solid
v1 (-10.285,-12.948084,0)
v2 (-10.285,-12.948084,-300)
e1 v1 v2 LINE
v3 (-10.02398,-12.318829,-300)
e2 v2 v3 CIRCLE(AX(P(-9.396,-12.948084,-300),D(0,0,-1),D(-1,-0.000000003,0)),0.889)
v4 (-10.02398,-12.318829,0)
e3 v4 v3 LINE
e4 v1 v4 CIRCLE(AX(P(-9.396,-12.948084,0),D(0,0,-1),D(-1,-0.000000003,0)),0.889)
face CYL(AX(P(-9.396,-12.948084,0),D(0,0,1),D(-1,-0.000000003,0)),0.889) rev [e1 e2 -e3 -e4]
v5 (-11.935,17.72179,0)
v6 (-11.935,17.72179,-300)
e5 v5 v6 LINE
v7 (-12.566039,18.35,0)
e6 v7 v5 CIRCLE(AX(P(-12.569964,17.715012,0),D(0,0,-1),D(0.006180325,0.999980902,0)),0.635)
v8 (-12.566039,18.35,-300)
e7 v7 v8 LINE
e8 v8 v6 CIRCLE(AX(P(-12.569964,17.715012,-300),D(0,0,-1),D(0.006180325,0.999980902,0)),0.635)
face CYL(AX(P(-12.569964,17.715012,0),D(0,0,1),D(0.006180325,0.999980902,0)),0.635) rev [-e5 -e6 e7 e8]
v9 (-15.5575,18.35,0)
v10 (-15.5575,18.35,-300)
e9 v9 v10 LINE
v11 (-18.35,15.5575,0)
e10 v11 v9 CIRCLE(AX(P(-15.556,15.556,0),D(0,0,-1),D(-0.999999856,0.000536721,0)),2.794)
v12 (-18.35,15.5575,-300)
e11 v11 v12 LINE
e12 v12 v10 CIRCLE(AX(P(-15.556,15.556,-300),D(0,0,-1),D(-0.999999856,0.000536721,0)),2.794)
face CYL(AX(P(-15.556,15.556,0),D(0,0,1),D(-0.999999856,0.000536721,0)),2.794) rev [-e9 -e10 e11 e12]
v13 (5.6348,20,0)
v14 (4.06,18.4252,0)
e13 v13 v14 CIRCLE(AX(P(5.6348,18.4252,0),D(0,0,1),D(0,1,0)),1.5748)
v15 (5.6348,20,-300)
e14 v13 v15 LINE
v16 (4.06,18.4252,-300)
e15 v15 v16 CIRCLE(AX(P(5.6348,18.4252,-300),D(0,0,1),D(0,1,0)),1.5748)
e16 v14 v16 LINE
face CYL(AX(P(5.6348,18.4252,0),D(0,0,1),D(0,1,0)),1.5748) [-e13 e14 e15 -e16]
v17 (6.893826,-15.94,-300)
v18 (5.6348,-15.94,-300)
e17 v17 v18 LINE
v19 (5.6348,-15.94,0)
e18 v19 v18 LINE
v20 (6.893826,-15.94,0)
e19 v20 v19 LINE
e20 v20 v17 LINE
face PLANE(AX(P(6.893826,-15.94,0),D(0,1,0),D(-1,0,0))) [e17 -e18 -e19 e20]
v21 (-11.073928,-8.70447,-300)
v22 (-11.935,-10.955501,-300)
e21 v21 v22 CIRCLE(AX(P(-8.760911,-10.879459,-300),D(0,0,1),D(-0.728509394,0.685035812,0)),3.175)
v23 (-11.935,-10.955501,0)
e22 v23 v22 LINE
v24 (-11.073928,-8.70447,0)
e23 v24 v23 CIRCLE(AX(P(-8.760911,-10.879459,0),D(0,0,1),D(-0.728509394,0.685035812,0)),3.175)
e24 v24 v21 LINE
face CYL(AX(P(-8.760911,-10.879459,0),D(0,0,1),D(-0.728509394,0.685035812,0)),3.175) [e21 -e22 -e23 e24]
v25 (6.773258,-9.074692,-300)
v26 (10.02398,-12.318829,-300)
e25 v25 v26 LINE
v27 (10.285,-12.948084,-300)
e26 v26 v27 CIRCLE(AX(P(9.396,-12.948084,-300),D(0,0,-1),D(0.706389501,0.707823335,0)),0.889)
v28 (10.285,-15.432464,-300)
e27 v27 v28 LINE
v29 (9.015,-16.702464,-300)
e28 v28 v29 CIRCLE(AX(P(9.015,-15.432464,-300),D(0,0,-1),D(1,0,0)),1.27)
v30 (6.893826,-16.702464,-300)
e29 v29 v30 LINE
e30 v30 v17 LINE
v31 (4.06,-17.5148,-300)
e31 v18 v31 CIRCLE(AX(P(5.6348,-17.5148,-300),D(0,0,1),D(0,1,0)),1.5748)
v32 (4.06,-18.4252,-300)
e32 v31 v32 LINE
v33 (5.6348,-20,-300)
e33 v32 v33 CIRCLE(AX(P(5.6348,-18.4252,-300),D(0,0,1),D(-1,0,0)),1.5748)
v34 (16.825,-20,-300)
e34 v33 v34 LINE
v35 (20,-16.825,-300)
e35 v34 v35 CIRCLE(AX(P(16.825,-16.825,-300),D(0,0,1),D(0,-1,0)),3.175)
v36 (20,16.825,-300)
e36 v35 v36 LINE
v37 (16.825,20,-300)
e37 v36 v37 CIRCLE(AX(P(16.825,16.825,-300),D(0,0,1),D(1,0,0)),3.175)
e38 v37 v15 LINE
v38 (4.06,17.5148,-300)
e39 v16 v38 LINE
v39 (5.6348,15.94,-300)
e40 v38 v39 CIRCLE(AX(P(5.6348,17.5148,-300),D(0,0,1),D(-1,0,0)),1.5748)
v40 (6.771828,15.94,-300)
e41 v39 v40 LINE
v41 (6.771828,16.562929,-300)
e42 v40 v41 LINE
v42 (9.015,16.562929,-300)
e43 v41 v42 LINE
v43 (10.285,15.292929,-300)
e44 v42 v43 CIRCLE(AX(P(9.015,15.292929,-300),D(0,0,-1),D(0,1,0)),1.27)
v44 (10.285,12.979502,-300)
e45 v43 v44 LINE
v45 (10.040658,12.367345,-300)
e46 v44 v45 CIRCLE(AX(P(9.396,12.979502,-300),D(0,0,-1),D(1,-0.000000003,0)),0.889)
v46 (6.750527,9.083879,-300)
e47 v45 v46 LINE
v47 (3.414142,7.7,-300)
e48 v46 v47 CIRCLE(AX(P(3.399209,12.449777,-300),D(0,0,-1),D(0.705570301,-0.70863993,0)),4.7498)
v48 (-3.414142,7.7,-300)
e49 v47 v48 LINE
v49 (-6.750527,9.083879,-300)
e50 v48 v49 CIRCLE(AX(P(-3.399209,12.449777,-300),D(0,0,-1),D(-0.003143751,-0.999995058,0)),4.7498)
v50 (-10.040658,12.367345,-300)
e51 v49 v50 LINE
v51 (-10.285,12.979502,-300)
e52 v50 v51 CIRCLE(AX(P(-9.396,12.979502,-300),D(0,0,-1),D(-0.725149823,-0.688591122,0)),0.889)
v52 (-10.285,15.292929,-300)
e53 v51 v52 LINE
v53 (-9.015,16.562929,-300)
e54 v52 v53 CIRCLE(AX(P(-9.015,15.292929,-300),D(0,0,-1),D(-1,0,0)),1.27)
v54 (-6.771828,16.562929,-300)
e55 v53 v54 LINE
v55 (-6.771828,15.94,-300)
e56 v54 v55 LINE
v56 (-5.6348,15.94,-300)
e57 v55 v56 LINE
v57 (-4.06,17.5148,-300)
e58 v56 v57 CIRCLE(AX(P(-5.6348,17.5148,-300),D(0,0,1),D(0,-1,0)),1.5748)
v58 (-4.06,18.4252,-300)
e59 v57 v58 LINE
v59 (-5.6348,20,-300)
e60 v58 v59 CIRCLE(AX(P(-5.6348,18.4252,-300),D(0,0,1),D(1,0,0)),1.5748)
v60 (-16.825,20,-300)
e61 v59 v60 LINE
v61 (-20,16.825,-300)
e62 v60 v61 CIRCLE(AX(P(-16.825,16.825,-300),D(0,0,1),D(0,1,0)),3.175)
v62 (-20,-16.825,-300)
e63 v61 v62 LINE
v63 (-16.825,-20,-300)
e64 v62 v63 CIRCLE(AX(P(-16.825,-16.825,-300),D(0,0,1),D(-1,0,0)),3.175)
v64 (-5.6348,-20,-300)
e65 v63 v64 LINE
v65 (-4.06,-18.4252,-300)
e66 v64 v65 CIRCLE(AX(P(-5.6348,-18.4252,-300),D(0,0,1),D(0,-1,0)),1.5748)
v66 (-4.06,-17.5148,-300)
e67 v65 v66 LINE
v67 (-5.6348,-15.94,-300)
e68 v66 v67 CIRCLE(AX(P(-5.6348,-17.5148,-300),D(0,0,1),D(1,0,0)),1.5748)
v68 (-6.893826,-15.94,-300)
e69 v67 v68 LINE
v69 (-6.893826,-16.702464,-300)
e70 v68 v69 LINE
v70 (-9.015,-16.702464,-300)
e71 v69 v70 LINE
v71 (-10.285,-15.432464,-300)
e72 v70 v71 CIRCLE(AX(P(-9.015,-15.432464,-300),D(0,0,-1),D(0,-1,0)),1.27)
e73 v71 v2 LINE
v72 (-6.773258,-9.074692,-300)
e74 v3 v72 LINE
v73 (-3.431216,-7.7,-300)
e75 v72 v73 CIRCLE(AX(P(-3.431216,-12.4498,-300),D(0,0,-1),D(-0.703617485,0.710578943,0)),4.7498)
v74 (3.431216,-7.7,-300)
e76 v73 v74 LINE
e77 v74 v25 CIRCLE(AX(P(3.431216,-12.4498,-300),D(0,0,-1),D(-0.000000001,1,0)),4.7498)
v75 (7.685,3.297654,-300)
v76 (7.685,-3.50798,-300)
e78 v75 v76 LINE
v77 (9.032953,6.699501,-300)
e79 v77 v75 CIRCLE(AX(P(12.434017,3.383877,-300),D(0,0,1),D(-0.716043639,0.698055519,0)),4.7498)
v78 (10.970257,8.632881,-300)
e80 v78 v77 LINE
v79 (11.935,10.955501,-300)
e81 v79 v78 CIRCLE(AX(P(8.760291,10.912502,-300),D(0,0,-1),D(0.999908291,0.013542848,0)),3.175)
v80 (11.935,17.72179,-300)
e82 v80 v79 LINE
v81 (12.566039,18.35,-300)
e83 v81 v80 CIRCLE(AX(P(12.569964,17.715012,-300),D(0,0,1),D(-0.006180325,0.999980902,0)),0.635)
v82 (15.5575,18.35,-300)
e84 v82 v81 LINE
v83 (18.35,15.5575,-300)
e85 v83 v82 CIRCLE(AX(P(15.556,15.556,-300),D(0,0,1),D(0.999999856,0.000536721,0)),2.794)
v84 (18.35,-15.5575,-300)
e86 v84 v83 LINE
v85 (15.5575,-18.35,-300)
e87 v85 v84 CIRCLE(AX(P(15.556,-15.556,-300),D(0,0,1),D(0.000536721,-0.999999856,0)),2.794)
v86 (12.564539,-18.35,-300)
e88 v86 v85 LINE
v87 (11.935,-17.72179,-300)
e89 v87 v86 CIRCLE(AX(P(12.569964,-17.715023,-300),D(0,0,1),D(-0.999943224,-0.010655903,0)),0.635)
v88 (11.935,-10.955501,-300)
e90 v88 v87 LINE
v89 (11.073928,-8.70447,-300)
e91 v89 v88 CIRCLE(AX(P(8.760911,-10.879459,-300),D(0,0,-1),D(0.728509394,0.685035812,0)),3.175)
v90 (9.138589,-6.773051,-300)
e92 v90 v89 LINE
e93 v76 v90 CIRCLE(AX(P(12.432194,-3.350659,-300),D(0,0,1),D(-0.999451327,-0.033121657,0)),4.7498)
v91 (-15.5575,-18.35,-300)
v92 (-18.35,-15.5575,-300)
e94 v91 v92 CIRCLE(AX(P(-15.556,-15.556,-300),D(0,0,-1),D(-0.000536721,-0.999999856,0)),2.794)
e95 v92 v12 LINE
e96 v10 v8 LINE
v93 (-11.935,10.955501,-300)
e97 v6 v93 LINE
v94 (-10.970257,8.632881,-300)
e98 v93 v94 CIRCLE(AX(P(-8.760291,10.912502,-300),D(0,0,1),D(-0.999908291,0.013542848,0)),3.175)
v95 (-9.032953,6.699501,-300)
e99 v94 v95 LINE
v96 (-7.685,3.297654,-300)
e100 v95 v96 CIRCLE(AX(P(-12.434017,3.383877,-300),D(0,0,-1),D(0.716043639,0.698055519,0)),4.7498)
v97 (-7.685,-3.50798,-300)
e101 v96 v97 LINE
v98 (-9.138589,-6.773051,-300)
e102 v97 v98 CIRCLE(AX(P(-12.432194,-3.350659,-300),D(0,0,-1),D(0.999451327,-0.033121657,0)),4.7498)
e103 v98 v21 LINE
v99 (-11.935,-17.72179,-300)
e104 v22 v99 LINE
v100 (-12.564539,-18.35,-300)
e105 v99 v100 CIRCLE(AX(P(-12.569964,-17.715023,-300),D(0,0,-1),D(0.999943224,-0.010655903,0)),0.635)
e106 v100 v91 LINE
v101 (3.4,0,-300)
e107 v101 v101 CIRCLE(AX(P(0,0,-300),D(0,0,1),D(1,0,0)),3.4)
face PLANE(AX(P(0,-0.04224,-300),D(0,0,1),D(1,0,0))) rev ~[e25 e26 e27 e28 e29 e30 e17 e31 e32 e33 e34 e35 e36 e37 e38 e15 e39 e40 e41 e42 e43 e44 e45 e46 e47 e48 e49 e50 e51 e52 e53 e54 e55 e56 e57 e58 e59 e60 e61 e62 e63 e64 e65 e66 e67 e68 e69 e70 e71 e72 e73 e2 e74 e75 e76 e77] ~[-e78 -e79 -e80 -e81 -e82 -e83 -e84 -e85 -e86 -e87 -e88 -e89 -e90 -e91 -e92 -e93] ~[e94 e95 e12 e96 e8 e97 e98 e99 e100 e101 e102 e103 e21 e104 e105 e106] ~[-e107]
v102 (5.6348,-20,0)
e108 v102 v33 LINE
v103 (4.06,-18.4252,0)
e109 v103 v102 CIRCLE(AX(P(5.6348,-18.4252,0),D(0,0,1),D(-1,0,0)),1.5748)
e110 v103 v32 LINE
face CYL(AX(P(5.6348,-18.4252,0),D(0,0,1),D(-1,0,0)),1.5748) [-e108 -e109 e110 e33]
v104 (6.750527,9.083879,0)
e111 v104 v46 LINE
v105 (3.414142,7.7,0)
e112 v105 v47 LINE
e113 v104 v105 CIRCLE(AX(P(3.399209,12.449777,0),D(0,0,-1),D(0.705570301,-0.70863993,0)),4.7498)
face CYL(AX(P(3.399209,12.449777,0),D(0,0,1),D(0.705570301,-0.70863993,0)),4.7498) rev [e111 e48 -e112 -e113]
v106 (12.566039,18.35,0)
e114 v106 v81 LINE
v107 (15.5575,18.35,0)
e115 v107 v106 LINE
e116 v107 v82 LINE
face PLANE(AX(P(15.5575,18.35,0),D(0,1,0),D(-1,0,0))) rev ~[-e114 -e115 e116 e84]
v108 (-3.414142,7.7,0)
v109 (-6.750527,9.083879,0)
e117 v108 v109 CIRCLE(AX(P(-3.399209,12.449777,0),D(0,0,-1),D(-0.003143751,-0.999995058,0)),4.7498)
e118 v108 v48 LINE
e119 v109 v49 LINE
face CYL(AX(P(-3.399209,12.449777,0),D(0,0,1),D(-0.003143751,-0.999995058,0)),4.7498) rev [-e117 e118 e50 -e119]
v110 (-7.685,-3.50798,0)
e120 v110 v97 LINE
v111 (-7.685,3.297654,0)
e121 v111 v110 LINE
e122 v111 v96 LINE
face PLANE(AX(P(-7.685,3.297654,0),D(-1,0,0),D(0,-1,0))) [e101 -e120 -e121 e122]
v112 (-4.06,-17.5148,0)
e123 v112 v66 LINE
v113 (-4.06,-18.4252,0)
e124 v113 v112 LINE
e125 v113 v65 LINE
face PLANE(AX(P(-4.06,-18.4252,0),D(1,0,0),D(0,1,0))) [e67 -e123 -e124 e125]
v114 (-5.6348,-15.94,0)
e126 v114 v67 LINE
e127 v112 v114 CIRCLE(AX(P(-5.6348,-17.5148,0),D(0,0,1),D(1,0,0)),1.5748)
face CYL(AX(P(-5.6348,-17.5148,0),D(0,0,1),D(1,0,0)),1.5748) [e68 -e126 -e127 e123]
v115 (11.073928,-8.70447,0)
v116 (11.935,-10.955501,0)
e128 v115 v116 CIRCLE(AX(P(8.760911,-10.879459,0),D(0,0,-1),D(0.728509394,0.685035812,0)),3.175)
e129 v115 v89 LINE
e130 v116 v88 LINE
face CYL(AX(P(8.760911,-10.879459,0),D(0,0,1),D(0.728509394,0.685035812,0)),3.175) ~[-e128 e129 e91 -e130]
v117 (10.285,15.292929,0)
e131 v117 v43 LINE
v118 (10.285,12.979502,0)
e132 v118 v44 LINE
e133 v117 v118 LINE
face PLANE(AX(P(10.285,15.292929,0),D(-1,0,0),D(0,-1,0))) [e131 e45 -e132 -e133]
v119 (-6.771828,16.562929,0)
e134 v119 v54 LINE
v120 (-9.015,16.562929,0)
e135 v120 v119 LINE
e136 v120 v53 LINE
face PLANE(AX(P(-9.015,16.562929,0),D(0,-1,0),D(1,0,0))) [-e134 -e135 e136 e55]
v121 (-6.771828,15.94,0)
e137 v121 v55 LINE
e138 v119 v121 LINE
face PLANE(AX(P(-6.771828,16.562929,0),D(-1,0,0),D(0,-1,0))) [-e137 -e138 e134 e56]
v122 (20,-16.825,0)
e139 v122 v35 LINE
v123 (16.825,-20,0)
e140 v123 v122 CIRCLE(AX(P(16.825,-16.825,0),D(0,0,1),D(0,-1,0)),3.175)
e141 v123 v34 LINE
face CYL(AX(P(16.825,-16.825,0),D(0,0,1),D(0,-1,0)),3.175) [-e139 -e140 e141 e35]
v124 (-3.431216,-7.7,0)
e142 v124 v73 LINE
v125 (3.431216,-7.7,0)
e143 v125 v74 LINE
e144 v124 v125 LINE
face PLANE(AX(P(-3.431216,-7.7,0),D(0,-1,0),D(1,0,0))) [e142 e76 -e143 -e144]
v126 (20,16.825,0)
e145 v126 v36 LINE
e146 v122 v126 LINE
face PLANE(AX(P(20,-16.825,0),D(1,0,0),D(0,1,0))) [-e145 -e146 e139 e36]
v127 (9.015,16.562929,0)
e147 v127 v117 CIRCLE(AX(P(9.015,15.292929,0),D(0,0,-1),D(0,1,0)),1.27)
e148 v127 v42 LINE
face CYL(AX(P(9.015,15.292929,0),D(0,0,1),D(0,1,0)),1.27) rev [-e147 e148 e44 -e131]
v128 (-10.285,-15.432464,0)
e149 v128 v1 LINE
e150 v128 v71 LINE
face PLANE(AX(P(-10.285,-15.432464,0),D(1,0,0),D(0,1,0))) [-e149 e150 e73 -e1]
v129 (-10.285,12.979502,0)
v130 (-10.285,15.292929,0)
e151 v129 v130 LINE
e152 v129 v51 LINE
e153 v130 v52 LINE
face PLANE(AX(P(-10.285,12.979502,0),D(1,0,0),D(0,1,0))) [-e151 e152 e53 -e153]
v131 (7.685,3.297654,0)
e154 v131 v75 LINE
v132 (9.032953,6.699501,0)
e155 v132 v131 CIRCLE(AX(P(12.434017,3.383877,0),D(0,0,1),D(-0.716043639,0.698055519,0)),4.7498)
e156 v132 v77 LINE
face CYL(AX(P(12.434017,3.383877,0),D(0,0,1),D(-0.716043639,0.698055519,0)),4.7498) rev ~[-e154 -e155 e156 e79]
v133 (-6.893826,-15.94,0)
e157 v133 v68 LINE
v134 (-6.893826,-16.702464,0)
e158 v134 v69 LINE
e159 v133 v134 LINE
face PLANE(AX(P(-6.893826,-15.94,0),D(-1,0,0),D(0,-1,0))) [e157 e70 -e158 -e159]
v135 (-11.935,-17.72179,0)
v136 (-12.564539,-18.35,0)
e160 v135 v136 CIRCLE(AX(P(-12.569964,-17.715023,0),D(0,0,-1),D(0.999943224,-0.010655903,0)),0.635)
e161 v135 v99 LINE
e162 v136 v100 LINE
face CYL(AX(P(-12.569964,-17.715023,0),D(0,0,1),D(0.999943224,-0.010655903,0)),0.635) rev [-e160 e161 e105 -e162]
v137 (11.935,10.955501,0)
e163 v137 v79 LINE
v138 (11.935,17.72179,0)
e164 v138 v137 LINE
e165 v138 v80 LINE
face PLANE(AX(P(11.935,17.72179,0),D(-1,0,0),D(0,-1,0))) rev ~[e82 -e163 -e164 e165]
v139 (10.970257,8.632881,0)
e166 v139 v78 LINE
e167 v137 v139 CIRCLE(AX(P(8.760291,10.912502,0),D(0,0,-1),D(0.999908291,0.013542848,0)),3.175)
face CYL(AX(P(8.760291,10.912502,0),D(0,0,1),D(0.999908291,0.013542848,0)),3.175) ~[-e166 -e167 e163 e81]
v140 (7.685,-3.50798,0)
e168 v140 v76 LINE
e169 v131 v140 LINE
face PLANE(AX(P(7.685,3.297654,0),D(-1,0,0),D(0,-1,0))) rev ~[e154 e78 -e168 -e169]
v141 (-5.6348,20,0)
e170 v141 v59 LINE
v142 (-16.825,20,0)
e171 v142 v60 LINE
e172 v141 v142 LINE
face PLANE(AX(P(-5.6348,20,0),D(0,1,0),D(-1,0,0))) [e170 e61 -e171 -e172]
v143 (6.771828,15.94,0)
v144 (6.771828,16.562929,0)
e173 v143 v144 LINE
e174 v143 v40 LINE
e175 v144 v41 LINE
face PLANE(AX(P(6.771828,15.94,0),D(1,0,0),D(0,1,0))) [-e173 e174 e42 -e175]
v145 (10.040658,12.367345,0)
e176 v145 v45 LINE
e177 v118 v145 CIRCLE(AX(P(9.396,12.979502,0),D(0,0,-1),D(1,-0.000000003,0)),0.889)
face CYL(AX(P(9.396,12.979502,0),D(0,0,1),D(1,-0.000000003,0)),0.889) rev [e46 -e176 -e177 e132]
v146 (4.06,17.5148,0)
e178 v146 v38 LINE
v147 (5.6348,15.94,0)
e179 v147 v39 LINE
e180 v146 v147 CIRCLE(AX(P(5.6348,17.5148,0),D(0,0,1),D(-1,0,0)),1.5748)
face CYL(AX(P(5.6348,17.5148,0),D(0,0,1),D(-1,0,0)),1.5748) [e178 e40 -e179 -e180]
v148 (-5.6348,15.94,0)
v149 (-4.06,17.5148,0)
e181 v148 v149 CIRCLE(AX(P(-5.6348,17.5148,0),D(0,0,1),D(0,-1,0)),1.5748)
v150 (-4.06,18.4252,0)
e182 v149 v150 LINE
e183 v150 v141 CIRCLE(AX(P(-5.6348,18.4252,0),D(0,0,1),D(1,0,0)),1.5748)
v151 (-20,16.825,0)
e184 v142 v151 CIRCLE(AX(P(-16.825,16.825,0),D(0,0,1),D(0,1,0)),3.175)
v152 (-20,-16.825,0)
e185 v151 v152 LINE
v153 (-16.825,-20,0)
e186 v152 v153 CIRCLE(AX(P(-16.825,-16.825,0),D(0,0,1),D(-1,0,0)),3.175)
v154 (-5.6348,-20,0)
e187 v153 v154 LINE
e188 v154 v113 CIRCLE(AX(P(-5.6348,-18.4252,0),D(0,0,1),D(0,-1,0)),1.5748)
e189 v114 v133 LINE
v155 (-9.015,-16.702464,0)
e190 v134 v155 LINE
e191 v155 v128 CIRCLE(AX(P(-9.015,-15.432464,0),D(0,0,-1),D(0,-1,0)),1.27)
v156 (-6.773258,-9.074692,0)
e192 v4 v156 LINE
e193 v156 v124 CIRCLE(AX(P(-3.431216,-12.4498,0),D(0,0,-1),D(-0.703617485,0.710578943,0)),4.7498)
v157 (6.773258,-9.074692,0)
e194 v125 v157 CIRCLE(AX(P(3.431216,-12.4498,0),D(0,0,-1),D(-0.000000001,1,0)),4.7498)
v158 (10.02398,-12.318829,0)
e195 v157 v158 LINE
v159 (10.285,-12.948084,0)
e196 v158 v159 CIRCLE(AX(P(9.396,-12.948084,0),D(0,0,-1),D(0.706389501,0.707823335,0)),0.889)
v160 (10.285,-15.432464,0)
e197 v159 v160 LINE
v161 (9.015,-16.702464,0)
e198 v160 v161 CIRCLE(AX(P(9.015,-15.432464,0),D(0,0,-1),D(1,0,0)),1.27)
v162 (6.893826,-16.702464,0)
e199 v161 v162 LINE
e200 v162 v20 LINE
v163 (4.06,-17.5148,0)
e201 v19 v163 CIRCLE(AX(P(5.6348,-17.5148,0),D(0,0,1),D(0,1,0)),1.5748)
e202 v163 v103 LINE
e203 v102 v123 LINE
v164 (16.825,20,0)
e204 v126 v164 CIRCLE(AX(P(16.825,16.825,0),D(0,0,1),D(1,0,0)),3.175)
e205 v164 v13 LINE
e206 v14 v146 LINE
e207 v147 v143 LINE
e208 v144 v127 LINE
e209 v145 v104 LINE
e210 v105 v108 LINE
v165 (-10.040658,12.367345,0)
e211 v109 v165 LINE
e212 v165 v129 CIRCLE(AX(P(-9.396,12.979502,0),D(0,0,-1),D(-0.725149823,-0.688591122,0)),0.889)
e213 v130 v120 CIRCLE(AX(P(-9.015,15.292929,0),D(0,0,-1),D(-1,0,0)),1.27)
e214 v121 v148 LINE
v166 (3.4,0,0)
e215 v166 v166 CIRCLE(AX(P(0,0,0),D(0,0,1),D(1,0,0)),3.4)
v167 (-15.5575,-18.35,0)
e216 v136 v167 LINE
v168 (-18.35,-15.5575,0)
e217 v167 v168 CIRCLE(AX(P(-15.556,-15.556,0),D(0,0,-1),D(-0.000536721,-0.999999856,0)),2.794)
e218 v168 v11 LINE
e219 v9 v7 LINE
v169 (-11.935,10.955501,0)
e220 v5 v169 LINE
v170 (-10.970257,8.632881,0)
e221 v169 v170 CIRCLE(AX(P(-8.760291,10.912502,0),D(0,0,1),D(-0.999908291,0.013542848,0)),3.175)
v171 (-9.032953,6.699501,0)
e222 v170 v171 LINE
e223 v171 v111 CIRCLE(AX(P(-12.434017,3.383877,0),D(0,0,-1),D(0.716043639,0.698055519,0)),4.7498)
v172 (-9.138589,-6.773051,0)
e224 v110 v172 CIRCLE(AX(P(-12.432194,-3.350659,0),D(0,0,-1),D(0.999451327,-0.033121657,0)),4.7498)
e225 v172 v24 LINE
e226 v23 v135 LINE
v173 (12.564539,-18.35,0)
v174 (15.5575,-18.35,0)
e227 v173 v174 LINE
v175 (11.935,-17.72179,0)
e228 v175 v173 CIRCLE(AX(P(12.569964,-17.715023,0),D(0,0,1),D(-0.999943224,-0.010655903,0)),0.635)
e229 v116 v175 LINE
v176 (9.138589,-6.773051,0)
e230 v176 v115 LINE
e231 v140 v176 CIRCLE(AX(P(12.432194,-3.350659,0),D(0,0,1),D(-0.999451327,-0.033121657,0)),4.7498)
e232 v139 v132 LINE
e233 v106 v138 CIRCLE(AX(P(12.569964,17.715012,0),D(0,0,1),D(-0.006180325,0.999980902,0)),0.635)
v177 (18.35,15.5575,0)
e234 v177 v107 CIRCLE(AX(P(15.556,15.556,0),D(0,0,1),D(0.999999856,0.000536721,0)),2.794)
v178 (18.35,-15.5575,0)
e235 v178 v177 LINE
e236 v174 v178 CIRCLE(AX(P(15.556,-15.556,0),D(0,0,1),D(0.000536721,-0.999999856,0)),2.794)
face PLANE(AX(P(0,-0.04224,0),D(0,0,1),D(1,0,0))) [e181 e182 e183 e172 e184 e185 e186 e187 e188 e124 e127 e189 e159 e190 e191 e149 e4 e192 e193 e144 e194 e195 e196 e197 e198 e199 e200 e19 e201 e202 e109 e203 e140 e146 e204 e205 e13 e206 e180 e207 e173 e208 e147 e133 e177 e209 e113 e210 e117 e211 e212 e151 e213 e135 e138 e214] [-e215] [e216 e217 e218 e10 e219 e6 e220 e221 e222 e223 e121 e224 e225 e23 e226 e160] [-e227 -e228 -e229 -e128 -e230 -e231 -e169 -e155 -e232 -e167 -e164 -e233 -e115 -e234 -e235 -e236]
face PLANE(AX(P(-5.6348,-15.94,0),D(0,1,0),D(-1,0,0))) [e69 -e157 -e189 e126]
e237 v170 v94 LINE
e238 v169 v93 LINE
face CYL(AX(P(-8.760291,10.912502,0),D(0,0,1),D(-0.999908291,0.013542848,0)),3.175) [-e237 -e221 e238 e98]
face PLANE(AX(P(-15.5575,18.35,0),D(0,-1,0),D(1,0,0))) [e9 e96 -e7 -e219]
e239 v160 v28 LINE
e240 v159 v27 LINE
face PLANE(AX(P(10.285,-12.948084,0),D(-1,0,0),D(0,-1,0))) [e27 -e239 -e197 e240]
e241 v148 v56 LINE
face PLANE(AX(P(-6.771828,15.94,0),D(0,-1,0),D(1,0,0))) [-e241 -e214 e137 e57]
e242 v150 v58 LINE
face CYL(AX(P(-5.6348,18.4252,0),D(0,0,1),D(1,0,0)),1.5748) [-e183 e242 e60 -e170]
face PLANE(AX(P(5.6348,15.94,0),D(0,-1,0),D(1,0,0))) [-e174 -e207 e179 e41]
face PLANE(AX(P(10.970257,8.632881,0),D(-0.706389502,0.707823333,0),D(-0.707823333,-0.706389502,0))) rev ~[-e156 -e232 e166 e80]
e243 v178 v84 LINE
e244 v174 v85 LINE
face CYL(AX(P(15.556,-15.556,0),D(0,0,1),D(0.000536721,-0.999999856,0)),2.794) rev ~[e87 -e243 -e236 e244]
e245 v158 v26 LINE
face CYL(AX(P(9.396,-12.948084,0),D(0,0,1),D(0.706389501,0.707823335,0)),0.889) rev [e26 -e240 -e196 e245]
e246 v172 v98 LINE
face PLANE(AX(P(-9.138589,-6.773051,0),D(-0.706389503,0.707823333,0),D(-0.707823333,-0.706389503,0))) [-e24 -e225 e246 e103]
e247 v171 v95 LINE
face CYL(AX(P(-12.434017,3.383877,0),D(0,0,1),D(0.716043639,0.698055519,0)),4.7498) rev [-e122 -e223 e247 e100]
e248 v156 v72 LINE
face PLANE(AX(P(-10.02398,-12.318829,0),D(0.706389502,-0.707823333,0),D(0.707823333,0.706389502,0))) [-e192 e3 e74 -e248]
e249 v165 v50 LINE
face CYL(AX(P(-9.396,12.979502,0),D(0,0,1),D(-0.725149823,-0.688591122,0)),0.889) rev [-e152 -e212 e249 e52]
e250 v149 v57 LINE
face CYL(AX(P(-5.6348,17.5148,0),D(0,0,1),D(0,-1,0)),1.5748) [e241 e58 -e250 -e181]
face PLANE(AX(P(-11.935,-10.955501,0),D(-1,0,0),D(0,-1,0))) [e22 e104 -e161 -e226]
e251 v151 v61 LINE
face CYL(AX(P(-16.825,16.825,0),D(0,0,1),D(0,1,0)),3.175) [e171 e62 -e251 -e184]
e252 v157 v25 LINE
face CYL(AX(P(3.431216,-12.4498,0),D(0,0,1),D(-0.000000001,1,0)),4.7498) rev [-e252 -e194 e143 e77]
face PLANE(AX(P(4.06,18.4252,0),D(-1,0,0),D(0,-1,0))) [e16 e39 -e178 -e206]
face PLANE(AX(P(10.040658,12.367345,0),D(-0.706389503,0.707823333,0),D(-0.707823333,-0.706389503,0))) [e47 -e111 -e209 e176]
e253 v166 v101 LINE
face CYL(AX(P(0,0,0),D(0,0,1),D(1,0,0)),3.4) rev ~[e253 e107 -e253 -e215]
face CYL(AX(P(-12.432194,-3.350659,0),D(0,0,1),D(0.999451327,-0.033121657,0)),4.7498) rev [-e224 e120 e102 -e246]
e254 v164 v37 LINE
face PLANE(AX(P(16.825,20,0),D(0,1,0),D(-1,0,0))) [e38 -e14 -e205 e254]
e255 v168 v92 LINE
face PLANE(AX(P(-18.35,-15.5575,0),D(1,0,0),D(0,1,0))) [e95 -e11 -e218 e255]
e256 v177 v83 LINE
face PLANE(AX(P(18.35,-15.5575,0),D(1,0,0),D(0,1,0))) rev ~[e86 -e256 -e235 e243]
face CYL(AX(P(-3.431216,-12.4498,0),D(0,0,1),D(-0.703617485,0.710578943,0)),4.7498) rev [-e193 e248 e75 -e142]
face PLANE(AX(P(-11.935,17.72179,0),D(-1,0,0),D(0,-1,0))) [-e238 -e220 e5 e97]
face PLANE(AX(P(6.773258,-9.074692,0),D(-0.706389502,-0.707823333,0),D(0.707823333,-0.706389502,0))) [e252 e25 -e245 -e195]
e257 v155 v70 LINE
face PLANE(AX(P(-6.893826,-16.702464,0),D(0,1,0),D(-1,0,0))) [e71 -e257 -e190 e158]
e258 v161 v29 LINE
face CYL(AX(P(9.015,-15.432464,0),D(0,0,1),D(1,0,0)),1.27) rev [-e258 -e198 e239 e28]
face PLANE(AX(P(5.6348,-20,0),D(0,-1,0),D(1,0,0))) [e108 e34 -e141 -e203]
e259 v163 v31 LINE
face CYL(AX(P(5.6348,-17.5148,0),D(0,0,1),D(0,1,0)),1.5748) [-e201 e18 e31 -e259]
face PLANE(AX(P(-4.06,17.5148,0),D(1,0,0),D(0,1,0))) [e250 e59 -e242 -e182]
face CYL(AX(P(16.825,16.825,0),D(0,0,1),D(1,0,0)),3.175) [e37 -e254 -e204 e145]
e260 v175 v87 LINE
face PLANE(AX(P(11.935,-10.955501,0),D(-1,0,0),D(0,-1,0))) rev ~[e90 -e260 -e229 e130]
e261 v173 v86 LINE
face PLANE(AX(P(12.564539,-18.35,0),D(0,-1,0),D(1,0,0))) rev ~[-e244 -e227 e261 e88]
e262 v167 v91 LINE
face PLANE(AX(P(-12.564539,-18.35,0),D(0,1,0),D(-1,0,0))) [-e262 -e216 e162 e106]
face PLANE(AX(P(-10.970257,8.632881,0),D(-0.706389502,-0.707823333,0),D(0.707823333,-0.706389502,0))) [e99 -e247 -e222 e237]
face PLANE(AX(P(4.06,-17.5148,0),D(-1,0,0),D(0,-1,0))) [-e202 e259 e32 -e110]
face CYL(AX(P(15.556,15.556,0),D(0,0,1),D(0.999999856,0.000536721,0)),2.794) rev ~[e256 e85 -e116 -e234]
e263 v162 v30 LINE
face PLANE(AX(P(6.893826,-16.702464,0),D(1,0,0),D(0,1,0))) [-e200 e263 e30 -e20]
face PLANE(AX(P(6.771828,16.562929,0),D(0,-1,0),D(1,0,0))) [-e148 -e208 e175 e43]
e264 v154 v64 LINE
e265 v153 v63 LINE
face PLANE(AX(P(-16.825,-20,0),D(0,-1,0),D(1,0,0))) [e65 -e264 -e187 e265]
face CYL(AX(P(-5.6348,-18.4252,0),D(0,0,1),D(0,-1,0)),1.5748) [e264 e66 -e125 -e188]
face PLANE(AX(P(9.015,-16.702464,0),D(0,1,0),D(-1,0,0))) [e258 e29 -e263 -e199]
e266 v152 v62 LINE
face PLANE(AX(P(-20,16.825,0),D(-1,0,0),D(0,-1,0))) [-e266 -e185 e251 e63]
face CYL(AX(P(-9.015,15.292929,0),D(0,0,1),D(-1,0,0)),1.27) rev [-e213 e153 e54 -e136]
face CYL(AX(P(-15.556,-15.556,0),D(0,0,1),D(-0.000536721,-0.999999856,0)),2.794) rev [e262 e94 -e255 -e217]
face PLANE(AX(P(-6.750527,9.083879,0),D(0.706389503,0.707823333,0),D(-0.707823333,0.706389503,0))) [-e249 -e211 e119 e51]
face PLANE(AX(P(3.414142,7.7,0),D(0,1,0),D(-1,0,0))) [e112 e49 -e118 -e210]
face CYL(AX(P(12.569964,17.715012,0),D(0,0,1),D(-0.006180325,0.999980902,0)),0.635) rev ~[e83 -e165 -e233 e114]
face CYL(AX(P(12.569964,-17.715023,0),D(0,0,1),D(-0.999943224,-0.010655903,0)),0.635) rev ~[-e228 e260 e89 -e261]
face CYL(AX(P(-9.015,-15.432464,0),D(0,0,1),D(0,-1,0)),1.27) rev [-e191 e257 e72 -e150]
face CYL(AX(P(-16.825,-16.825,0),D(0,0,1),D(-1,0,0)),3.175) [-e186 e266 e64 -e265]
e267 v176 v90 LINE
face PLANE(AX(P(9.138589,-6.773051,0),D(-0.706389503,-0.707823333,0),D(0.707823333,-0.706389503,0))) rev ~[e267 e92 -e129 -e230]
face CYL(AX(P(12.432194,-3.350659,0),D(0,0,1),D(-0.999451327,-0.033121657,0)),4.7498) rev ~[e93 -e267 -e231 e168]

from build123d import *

# Parameters (mm, degrees)
SKETCH1_R      = 3.4
EXTRUDE1_DEPTH = 300


with BuildPart() as part:
    # Sketch1 → Extrude1 (new body)
    with BuildSketch(Plane.XY):
        with BuildLine():
            Line((3.414141554, 7.7), (-3.414141554, 7.7))
            ThreePointArc((-3.414141554, 7.7), (-5.219014233, 8.062418522), (-6.750527179, 9.083878589))
            Line((-6.750527179, 9.083878589), (-10.040658191, 12.367344817))
            ThreePointArc((-10.040658191, 12.367344817), (-10.221657959, 12.649942114), (-10.285, 12.979502327))
            Line((-10.285, 12.979502327), (-10.285, 15.292928509))
            ThreePointArc((-10.285, 15.292928509), (-9.913025612, 16.190954121), (-9.015, 16.562928509))
            Line((-9.015, 16.562928509), (-6.771827505, 16.562928509))
            Line((-6.771827505, 16.562928509), (-6.771827505, 15.94))
            Line((-6.771827505, 15.94), (-5.6348, 15.94))
            ThreePointArc((-5.6348, 15.94), (-4.521248241, 16.401248241), (-4.06, 17.5148))
            Line((-4.06, 17.5148), (-4.06, 18.4252))
            ThreePointArc((-4.06, 18.4252), (-4.521248241, 19.538751759), (-5.6348, 20))
            Line((-5.6348, 20), (-13.0175, 20))
            Line((-13.0175, 20), (-16.825, 20))
            ThreePointArc((-16.825, 20), (-19.07006403, 19.07006403), (-20, 16.825))
            Line((-20, 16.825), (-20, -16.825))
            ThreePointArc((-20, -16.825), (-19.07006403, -19.07006403), (-16.825, -20))
            Line((-16.825, -20), (-13.0175, -20))
            Line((-13.0175, -20), (-5.6348, -20))
            ThreePointArc((-5.6348, -20), (-4.521248241, -19.538751759), (-4.06, -18.4252))
            Line((-4.06, -18.4252), (-4.06, -17.5148))
            ThreePointArc((-4.06, -17.5148), (-4.521248241, -16.401248241), (-5.6348, -15.94))
            Line((-5.6348, -15.94), (-6.893826419, -15.94))
            Line((-6.893826419, -15.94), (-6.893826419, -16.702464473))
            Line((-6.893826419, -16.702464473), (-9.015, -16.702464473))
            ThreePointArc((-9.015, -16.702464473), (-9.913025612, -16.330490085), (-10.285, -15.432464473))
            Line((-10.285, -15.432464473), (-10.285, -12.948084155))
            ThreePointArc((-10.285, -12.948084155), (-10.217156337, -12.607462266), (-10.023980268, -12.318829212))
            Line((-10.023980268, -12.318829212), (-6.773258234, -9.074692133))
            ThreePointArc((-6.773258234, -9.074692133), (-5.238079583, -8.057096539), (-3.431215906, -7.7))
            Line((-3.431215906, -7.7), (3.431215906, -7.7))
            ThreePointArc((3.431215906, -7.7), (5.238079583, -8.057096539), (6.773258234, -9.074692133))
            Line((6.773258234, -9.074692133), (10.023980268, -12.318829212))
            ThreePointArc((10.023980268, -12.318829212), (10.217156337, -12.607462266), (10.285, -12.948084155))
            Line((10.285, -12.948084155), (10.285, -15.432464473))
            ThreePointArc((10.285, -15.432464473), (9.913025612, -16.330490085), (9.015, -16.702464473))
            Line((9.015, -16.702464473), (6.893826419, -16.702464473))
            Line((6.893826419, -16.702464473), (6.893826419, -15.94))
            Line((6.893826419, -15.94), (5.6348, -15.94))
            ThreePointArc((5.6348, -15.94), (4.521248241, -16.401248241), (4.06, -17.5148))
            Line((4.06, -17.5148), (4.06, -18.4252))
            ThreePointArc((4.06, -18.4252), (4.521248241, -19.538751759), (5.6348, -20))
            Line((5.6348, -20), (13.0175, -20))
            Line((13.0175, -20), (16.825, -20))
            ThreePointArc((16.825, -20), (19.07006403, -19.07006403), (20, -16.825))
            Line((20, -16.825), (20, 16.825))
            ThreePointArc((20, 16.825), (19.07006403, 19.07006403), (16.825, 20))
            Line((16.825, 20), (13.0175, 20))
            Line((13.0175, 20), (5.6348, 20))
            ThreePointArc((5.6348, 20), (4.521248241, 19.538751759), (4.06, 18.4252))
            Line((4.06, 18.4252), (4.06, 17.5148))
            ThreePointArc((4.06, 17.5148), (4.521248241, 16.401248241), (5.6348, 15.94))
            Line((5.6348, 15.94), (6.771827505, 15.94))
            Line((6.771827505, 15.94), (6.771827505, 16.562928509))
            Line((6.771827505, 16.562928509), (9.015, 16.562928509))
            ThreePointArc((9.015, 16.562928509), (9.913025612, 16.190954121), (10.285, 15.292928509))
            Line((10.285, 15.292928509), (10.285, 12.979502327))
            ThreePointArc((10.285, 12.979502327), (10.221657959, 12.649942114), (10.040658191, 12.367344817))
            Line((10.040658191, 12.367344817), (6.750527179, 9.083878589))
            ThreePointArc((6.750527179, 9.083878589), (5.219014233, 8.062418522), (3.414141554, 7.7))
        make_face()
        Circle(SKETCH1_R, mode=Mode.SUBTRACT)
        with BuildLine():
            Line((-12.564539323, -18.35), (-15.5575, -18.35))
            ThreePointArc((-15.5575, -18.35), (-17.531656749, -17.531656749), (-18.35, -15.5575))
            Line((-18.35, -15.5575), (-18.35, 15.5575))
            ThreePointArc((-18.35, 15.5575), (-17.531656749, 17.531656749), (-15.5575, 18.35))
            Line((-15.5575, 18.35), (-12.566039323, 18.35))
            ThreePointArc((-12.566039323, 18.35), (-12.121960893, 18.165032537), (-11.935, 17.721789669))
            Line((-11.935, 17.721789669), (-11.935, 10.955500711))
            ThreePointArc((-11.935, 10.955500711), (-11.692410278, 9.694593073), (-10.97025746, 8.632880704))
            Line((-10.97025746, 8.632880704), (-9.032953263, 6.699500885))
            ThreePointArc((-9.032953263, 6.699500885), (-8.018239143, 5.133591891), (-7.685, 3.297654148))
            Line((-7.685, 3.297654148), (-7.685, -3.50798046))
            ThreePointArc((-7.685, -3.50798046), (-8.092979352, -5.282450357), (-9.138589048, -6.773051218))
            Line((-9.138589048, -6.773051218), (-11.073928072, -8.704469846))
            ThreePointArc((-11.073928072, -8.704469846), (-11.72635669, -9.745106152), (-11.935, -10.955500711))
            Line((-11.935, -10.955500711), (-11.935, -17.721789669))
            ThreePointArc((-11.935, -17.721789669), (-12.121425838, -18.164510172), (-12.564539323, -18.35))
        make_face(mode=Mode.SUBTRACT)
        with BuildLine():
            Line((11.935, -10.955500711), (11.935, -17.721789669))
            ThreePointArc((11.935, -17.721789669), (12.121425838, -18.164510172), (12.564539323, -18.35))
            Line((12.564539323, -18.35), (15.5575, -18.35))
            ThreePointArc((15.5575, -18.35), (17.531656749, -17.531656749), (18.35, -15.5575))
            Line((18.35, -15.5575), (18.35, 15.5575))
            ThreePointArc((18.35, 15.5575), (17.531656749, 17.531656749), (15.5575, 18.35))
            Line((15.5575, 18.35), (12.566039323, 18.35))
            ThreePointArc((12.566039323, 18.35), (12.121960893, 18.165032537), (11.935, 17.721789669))
            Line((11.935, 17.721789669), (11.935, 10.955500711))
            ThreePointArc((11.935, 10.955500711), (11.692410278, 9.694593073), (10.97025746, 8.632880704))
            Line((10.97025746, 8.632880704), (9.032953263, 6.699500885))
            ThreePointArc((9.032953263, 6.699500885), (8.018239143, 5.133591891), (7.685, 3.297654148))
            Line((7.685, 3.297654148), (7.685, -3.50798046))
            ThreePointArc((7.685, -3.50798046), (8.092979352, -5.282450357), (9.138589048, -6.773051218))
            Line((9.138589048, -6.773051218), (11.073928072, -8.704469846))
            ThreePointArc((11.073928072, -8.704469846), (11.72635669, -9.745106152), (11.935, -10.955500711))
        make_face(mode=Mode.SUBTRACT)
    extrude(amount=-EXTRUDE1_DEPTH)


solid = part.part
